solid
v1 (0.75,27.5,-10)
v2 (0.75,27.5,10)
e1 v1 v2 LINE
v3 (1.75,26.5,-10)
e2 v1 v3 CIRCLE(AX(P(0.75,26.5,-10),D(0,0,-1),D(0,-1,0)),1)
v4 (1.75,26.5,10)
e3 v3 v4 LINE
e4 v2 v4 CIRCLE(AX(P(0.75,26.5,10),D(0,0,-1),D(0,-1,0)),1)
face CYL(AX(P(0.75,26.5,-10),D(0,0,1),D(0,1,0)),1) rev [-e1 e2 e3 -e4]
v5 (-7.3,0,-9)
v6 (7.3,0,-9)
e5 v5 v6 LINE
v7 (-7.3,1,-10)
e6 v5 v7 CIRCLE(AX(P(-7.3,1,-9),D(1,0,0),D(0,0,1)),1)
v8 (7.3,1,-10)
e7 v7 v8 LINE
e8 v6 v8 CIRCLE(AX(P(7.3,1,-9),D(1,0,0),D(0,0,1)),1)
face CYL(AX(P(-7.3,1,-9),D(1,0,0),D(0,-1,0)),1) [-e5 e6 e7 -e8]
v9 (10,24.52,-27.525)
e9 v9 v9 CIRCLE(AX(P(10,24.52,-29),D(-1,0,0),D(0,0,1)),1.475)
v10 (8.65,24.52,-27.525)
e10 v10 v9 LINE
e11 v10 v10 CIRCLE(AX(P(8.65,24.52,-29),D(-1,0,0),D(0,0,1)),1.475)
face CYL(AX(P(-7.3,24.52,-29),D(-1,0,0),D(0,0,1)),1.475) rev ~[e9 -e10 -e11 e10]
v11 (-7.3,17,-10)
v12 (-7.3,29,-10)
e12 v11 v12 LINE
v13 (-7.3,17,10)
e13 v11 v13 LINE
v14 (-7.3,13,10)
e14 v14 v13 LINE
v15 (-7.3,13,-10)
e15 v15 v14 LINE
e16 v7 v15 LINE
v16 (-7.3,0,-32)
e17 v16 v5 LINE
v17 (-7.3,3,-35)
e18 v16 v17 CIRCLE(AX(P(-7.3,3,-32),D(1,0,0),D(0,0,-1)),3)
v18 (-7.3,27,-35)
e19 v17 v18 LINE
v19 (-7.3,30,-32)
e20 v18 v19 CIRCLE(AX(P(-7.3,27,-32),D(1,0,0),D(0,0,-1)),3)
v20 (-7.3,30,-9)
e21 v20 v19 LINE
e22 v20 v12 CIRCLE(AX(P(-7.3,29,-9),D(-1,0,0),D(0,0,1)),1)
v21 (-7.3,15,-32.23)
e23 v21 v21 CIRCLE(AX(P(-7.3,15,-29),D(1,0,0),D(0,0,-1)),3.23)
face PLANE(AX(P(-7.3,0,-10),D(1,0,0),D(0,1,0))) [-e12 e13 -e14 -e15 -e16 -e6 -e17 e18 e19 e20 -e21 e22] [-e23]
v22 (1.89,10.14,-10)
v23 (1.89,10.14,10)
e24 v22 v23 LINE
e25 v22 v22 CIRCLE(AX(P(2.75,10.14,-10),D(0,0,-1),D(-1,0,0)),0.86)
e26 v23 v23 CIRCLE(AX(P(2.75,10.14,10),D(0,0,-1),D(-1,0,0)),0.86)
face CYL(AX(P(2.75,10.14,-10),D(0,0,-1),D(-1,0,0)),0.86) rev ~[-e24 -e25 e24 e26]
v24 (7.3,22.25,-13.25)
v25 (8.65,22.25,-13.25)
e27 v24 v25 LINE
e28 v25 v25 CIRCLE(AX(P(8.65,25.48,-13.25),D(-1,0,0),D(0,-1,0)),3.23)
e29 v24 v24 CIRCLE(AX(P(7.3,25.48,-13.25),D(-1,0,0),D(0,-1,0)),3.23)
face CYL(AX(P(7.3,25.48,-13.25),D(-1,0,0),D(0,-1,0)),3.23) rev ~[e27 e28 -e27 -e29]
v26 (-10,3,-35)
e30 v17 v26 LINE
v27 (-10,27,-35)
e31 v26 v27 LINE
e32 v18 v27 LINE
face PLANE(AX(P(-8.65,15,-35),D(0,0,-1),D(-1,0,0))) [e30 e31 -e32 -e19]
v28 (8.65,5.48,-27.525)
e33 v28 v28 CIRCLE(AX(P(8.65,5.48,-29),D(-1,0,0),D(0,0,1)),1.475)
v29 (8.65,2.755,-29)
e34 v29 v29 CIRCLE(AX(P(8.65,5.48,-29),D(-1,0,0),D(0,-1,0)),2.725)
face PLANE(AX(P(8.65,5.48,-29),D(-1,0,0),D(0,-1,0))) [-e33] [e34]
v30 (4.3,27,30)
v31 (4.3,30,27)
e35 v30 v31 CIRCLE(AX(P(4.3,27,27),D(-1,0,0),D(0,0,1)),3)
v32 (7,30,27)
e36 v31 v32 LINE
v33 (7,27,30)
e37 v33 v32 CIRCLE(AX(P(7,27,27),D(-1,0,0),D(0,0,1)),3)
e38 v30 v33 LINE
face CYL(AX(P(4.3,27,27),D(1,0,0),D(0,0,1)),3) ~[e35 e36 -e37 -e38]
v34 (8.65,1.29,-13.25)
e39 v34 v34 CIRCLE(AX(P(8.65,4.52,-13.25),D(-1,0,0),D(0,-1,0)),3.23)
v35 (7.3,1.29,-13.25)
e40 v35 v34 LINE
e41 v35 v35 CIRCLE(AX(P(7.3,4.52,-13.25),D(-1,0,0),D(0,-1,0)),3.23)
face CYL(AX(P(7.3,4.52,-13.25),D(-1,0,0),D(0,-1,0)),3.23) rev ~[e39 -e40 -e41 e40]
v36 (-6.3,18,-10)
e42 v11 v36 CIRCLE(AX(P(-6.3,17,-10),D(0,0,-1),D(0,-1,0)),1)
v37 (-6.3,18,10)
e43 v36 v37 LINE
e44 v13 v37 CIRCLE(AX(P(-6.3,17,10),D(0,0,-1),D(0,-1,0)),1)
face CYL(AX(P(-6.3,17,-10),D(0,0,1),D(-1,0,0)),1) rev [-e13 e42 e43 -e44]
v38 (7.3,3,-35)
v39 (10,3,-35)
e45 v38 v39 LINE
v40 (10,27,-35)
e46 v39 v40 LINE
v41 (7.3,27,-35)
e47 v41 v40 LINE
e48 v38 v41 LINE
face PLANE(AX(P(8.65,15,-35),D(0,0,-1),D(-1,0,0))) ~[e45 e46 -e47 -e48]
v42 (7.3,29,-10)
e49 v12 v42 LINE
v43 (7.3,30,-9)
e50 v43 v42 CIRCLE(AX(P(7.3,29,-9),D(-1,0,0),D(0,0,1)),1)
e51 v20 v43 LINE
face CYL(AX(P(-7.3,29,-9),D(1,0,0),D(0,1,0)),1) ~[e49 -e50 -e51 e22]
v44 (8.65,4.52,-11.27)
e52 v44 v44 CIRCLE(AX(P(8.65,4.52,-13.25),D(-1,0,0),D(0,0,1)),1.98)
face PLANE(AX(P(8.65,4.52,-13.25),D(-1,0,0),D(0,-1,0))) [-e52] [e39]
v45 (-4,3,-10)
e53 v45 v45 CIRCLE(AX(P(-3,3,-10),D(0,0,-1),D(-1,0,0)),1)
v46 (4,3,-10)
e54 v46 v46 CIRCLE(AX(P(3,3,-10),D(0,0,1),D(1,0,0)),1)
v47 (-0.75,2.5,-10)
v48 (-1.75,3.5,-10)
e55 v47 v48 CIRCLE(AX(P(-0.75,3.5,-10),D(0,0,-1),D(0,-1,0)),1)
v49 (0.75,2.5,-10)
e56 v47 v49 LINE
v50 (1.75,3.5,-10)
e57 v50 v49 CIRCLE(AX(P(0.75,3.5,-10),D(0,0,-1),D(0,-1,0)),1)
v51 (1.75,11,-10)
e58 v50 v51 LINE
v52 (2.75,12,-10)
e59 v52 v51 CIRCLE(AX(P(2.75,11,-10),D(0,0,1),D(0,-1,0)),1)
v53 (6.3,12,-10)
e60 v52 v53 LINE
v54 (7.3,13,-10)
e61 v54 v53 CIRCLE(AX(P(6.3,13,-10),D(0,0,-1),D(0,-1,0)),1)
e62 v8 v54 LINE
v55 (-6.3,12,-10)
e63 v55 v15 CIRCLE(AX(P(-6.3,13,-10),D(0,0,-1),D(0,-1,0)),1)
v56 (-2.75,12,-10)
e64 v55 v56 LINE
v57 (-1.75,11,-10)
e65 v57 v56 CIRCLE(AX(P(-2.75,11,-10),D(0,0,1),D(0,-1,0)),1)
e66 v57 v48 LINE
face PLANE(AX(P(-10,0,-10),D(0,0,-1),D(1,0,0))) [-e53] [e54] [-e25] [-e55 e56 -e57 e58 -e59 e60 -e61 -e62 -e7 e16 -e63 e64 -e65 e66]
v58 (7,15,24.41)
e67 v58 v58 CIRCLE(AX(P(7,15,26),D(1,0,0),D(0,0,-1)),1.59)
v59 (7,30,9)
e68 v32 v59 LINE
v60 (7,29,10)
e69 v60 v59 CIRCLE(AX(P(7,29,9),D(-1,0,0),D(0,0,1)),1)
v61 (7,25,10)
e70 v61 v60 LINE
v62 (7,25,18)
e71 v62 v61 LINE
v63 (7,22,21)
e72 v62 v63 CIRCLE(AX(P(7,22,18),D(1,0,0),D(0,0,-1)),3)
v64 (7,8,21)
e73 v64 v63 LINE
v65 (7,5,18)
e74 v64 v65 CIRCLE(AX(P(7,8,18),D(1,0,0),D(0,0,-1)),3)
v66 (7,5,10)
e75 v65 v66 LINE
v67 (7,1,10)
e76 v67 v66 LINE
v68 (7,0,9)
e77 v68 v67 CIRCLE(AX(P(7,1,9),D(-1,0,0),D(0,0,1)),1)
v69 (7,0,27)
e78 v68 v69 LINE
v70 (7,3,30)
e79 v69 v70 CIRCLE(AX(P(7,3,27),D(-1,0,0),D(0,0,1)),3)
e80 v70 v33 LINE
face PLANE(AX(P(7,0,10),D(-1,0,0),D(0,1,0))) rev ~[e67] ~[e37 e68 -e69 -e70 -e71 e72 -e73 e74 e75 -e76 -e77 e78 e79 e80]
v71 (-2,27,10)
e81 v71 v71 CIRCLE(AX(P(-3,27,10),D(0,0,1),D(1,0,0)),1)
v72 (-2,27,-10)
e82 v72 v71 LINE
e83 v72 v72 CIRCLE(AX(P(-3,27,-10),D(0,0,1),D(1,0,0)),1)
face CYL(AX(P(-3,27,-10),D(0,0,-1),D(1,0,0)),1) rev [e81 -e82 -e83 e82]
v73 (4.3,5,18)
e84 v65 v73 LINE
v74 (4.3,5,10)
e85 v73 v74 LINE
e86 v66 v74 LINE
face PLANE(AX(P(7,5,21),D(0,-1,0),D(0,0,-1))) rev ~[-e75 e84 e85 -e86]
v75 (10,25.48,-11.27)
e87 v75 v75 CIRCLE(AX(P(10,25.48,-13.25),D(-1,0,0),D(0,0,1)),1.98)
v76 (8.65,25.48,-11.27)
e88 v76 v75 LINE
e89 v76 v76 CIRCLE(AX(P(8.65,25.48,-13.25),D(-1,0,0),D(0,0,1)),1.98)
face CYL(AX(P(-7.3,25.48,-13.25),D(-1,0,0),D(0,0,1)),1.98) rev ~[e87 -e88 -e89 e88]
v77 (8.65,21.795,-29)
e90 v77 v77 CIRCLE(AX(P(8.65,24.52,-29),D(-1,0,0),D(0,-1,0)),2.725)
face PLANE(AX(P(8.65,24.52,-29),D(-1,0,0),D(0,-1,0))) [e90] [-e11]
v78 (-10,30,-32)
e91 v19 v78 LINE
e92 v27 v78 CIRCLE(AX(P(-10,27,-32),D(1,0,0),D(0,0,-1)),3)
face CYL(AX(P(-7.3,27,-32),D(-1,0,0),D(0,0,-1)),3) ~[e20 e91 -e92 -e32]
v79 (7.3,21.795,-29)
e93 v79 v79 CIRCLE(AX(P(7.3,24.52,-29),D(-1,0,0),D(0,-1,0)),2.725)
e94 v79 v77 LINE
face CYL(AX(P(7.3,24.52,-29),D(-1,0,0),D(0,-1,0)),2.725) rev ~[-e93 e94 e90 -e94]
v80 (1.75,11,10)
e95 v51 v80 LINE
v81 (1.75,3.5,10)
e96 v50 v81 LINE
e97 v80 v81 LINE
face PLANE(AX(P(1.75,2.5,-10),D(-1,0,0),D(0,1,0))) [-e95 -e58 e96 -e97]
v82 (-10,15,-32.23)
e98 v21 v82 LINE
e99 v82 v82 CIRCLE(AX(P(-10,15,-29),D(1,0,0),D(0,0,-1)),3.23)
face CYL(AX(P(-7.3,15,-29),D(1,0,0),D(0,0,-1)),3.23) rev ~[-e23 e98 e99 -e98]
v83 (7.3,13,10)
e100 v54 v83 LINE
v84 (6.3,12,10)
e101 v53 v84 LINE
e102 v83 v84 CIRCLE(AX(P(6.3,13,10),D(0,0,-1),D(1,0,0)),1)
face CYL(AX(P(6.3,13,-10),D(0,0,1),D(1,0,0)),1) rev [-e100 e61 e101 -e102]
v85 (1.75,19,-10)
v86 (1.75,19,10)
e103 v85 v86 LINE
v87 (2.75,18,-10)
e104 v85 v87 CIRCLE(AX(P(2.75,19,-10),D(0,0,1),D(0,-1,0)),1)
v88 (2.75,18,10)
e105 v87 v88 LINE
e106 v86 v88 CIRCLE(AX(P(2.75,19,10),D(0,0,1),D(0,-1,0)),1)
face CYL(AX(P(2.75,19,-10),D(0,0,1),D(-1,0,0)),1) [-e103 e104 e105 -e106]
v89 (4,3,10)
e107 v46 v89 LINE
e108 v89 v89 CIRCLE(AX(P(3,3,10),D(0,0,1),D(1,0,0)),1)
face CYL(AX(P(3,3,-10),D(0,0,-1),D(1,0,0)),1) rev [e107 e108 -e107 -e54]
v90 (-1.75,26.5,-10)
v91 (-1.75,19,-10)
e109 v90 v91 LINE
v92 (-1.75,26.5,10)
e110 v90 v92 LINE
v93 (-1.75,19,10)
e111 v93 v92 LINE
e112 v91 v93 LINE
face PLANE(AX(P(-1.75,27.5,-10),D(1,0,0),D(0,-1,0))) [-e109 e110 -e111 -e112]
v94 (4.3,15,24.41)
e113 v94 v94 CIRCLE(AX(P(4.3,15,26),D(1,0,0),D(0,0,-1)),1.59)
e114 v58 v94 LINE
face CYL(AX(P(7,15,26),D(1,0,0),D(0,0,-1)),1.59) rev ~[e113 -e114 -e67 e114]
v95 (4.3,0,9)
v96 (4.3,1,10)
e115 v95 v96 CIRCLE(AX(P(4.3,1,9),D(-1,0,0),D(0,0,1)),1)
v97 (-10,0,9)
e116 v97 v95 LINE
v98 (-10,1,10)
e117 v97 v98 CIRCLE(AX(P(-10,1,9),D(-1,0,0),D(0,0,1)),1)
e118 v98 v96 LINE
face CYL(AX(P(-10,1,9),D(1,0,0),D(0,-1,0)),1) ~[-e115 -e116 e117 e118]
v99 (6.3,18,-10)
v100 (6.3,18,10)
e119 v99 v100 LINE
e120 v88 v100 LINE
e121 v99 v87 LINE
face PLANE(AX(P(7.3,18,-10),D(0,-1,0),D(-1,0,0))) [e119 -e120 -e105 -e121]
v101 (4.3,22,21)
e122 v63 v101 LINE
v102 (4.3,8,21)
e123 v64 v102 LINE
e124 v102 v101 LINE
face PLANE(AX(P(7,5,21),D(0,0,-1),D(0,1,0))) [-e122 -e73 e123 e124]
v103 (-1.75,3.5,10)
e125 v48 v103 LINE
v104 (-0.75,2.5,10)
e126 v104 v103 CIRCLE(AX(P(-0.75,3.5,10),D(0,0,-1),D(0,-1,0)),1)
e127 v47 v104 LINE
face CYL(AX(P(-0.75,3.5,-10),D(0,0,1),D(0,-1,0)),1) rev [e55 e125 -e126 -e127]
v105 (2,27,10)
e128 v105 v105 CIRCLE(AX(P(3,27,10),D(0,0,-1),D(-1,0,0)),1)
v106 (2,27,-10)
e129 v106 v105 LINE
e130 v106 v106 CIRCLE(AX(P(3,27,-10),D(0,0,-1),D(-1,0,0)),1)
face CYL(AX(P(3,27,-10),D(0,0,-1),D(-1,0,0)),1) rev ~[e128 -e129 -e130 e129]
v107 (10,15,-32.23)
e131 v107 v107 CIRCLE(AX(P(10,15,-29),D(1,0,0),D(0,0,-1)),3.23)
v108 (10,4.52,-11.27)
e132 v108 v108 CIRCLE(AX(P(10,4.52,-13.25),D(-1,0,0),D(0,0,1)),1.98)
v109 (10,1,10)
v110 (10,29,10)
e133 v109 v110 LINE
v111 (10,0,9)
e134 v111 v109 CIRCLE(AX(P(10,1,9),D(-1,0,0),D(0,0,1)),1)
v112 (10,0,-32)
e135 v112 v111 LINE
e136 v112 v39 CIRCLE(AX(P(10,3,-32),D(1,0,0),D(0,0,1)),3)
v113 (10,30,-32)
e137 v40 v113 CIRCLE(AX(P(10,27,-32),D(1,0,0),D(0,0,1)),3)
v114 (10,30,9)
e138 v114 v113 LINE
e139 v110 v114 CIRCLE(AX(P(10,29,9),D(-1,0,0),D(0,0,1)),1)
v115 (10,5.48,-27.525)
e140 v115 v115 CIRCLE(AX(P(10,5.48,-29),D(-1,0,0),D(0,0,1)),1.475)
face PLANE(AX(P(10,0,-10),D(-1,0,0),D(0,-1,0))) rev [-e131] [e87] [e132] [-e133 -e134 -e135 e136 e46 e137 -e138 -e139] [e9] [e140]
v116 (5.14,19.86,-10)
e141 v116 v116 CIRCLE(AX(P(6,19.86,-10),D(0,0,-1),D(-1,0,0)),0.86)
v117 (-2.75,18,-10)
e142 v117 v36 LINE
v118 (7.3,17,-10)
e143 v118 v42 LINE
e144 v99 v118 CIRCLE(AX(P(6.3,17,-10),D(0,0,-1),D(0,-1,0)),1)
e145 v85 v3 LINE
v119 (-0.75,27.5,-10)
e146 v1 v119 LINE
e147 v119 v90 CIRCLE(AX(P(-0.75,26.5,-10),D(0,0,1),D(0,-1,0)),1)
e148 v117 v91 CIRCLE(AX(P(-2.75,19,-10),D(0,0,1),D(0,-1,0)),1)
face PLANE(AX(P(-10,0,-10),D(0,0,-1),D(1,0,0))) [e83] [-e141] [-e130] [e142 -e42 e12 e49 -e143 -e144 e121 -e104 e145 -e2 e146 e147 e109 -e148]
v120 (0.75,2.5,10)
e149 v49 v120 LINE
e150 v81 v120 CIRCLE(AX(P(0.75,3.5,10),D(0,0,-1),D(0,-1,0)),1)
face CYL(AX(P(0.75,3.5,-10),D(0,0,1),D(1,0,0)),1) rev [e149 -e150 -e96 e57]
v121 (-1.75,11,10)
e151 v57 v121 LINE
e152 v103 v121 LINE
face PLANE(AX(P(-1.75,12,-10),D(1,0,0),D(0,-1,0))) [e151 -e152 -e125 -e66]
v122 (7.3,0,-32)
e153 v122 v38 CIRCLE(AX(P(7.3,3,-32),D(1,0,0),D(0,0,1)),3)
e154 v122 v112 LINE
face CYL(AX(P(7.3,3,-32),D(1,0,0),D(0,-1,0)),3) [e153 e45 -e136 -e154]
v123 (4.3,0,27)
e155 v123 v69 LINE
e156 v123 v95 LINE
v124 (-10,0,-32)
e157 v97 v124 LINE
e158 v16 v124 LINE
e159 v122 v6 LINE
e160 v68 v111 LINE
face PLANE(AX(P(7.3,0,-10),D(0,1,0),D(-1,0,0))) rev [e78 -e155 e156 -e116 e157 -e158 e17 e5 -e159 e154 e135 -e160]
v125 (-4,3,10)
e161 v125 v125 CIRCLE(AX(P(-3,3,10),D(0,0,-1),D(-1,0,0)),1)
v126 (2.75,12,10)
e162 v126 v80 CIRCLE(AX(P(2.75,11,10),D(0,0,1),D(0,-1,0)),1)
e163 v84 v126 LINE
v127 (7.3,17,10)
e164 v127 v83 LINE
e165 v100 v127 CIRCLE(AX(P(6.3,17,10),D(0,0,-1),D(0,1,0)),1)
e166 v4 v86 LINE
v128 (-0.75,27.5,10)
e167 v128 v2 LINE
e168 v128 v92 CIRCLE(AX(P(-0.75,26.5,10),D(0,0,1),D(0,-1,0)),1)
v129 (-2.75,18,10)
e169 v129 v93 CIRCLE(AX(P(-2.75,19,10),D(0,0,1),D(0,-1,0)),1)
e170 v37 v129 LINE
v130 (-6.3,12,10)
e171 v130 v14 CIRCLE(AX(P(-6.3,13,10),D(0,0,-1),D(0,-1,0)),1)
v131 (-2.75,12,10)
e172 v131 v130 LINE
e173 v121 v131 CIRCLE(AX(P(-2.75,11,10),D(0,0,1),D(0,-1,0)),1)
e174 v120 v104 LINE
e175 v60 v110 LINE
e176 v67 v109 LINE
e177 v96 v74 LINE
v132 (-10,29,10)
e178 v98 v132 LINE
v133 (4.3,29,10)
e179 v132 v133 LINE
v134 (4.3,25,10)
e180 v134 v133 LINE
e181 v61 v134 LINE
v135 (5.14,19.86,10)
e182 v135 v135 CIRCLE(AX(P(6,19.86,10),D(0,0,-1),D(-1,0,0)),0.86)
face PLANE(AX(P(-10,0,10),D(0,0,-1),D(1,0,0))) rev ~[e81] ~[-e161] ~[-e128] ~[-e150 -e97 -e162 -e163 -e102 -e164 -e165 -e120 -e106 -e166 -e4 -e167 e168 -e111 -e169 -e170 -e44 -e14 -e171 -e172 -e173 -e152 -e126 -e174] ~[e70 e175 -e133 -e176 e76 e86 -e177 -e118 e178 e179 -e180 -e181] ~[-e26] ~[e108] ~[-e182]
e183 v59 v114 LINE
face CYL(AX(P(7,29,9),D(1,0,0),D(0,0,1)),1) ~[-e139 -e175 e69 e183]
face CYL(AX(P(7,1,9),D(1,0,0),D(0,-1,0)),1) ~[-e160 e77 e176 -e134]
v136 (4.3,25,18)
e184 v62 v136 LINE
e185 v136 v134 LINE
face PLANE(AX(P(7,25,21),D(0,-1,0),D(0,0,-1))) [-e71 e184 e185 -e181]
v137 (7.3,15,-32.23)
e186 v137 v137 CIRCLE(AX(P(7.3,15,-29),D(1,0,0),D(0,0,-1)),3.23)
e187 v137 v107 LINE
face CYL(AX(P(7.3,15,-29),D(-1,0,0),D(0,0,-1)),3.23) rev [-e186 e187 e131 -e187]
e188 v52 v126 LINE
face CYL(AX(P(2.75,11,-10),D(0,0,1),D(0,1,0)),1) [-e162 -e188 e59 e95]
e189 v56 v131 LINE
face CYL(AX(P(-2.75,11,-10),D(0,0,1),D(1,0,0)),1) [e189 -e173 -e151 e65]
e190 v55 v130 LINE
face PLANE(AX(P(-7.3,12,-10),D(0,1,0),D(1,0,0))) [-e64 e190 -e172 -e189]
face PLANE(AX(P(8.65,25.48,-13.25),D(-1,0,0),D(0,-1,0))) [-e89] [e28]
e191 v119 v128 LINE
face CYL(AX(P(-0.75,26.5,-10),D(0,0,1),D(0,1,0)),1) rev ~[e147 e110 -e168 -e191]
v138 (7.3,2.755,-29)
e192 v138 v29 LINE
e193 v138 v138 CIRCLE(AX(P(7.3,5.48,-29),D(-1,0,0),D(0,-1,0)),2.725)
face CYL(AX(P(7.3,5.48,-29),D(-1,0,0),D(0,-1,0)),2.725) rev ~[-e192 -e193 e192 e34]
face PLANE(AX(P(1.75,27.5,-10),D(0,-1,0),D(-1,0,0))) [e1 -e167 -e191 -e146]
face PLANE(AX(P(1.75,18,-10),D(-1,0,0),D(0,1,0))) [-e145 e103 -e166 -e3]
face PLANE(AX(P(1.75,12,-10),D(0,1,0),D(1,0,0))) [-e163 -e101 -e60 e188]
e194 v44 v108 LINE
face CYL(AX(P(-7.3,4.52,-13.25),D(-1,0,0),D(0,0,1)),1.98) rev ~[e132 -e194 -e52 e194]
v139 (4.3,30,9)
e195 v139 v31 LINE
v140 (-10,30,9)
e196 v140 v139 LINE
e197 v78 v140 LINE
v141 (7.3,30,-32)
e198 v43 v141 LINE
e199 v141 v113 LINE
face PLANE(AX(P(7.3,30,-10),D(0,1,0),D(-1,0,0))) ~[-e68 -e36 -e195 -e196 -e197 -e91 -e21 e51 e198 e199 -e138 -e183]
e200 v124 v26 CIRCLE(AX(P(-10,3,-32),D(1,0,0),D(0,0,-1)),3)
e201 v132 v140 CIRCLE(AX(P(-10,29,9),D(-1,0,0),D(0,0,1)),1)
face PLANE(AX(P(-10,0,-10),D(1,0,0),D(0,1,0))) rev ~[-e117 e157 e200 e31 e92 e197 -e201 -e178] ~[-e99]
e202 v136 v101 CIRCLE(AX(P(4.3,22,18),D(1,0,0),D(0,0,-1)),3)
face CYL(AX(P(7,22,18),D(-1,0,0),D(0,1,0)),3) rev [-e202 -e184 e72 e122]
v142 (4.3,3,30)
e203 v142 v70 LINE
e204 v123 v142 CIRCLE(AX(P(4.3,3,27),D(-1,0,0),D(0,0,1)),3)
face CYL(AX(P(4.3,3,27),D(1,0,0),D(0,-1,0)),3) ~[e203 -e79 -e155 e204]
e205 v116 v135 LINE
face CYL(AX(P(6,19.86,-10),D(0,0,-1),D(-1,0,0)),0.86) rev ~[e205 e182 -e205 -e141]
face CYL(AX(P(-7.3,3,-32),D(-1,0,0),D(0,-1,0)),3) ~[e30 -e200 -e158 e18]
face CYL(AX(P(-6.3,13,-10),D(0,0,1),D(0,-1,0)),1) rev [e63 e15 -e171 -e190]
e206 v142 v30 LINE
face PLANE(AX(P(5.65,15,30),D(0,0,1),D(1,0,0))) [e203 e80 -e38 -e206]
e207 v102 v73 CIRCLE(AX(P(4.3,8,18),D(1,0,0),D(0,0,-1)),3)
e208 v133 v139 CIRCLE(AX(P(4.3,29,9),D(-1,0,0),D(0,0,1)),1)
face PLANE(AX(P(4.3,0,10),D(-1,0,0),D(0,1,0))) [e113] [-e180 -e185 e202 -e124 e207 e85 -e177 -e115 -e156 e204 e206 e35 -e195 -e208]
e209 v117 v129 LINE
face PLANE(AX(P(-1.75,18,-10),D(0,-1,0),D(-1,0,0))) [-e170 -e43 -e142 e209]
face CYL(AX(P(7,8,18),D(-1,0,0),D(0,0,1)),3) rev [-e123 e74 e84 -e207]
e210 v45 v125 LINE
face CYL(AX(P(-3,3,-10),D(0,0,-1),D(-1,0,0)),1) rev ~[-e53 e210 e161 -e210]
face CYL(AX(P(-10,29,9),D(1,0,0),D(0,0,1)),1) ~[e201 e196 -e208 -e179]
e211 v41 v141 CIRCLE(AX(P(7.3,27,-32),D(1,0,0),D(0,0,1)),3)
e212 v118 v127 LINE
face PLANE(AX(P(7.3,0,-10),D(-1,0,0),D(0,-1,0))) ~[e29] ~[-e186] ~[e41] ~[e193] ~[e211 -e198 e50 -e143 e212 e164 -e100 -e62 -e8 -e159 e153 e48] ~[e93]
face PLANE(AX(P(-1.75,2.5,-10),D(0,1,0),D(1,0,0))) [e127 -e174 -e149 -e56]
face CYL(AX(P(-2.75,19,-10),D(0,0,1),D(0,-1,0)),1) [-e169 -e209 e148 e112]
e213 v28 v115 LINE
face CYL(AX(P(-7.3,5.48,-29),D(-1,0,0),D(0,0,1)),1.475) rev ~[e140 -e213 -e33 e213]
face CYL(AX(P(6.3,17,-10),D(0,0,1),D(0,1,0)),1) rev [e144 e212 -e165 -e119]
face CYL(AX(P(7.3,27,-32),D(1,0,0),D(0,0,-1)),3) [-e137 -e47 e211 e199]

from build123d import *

# Parameters (mm, degrees)
SKETCH1_W             = 20
SKETCH1_H             = 20
BOSS_EXTRUDE3_DEPTH   = 30
CUT_EXTRUDE11_REACH   = 39.417
SKETCH10_R            = 0.86
FILLET4_R             = 1
SKETCH12_W            = 2.7
SKETCH12_H            = 30
BOSS_EXTRUDE13_DEPTH  = 20
CUT_EXTRUDE13_REACH   = 47.706
SKETCH14_R            = 1.59
SKETCH14_W            = 11
SKETCH14_H            = 20
FILLET6_R             = 3
SKETCH16_W            = 2.7
SKETCH16_H            = 30
BOSS_EXTRUDE14_DEPTH  = 25
CUT_EXTRUDE14_REACH   = 51.237
SKETCH17_R            = 3.23
FILLET11_R            = 3
FILLET11_OF_MIRROR1_R = 3
FILLET12_R            = 1
CUT_EXTRUDE15_REACH   = 52.99
SKETCH18_R            = 1
CUT_EXTRUDE16_REACH   = 51.237
SKETCH20_R            = 1.98
SKETCH20_R_2          = 1.475
SKETCH22_R            = 2.725
SKETCH22_R_2          = 3.23
CUT_EXTRUDE17_DEPTH   = 1.35


with BuildPart() as part:
    # Sketch1 → Boss-Extrude3 (new body)
    with BuildSketch(Plane(origin=(0, 0, 0), x_dir=(1, 0, 0), z_dir=(0, 1, 0))):
        Rectangle(SKETCH1_W, SKETCH1_H)
    extrude(amount=BOSS_EXTRUDE3_DEPTH)

    # Sketch10 → Cut-Extrude11 (cut, up to next)
    with BuildSketch(Plane(origin=(0, 0, -10), x_dir=(-1, 0, 0), z_dir=(0, 0, -1)), mode=Mode.PRIVATE) as cut_extrude11_sk1:
        with Locations((-6, 19.86)):
            Circle(SKETCH10_R)
    cut_extrude11_tool1 = extrude(cut_extrude11_sk1.sketch, amount=-CUT_EXTRUDE11_REACH, mode=Mode.PRIVATE) & part.part
    # Sketch10 → Cut-Extrude11 (cut, up to next)
    with BuildSketch(Plane(origin=(0, 0, -10), x_dir=(-1, 0, 0), z_dir=(0, 0, -1)), mode=Mode.PRIVATE) as cut_extrude11_sk2:
        with Locations((-2.75, 10.14)):
            Circle(SKETCH10_R)
    cut_extrude11_tool2 = extrude(cut_extrude11_sk2.sketch, amount=-CUT_EXTRUDE11_REACH, mode=Mode.PRIVATE) & part.part
    # Sketch10 → Cut-Extrude11 (cut, up to next)
    with BuildSketch(Plane(origin=(0, 0, -10), x_dir=(-1, 0, 0), z_dir=(0, 0, -1)), mode=Mode.PRIVATE) as cut_extrude11_sk3:
        Polygon((-1.75, 27.5), (1.75, 27.5), (1.75, 18), (7.3, 18), (7.3, 12), (1.75, 12), (1.75, 2.5), (-1.75, 2.5), (-1.75, 12), (-7.3, 12), (-7.3, 18), (-1.75, 18), align=None)
    cut_extrude11_tool3 = extrude(cut_extrude11_sk3.sketch, amount=-CUT_EXTRUDE11_REACH, mode=Mode.PRIVATE) & part.part
    add(cut_extrude11_tool1.solids().sort_by_distance((6, 19.86, -10))[0], mode=Mode.SUBTRACT)
    add(cut_extrude11_tool2.solids().sort_by_distance((2.75, 10.14, -10))[0], mode=Mode.SUBTRACT)
    add(cut_extrude11_tool3.solids().sort_by_distance((0, 15, -10))[0], mode=Mode.SUBTRACT)

    # Fillet4
    fillet4_edges = [part.edges().sort_by_distance(p)[0] for p in [
        (-1.75, 2.5, 0),
        (1.75, 2.5, 0),
        (1.75, 12, 0),
        (7.3, 12, 0),
        (7.3, 18, 0),
        (1.75, 18, 0),
        (1.75, 27.5, 0),
        (-1.75, 27.5, 0),
        (-1.75, 18, 0),
        (-7.3, 18, 0),
        (-7.3, 12, 0),
        (-1.75, 12, 0),
    ]]
    fillet(fillet4_edges, radius=FILLET4_R)

    # Sketch12 → Boss-Extrude13 (add)
    with BuildSketch(Plane.XY.offset(10)):
        with Locations((5.65, 15)):
            Rectangle(SKETCH12_W, SKETCH12_H)
    extrude(amount=BOSS_EXTRUDE13_DEPTH)

    # Sketch14 → Cut-Extrude13 (cut, up to next)
    with BuildSketch(Plane(origin=(7, 0, 0), x_dir=(0, 0, -1), z_dir=(1, 0, 0)), mode=Mode.PRIVATE) as cut_extrude13_sk1:
        with Locations((-26, 15)):
            Circle(SKETCH14_R)
    cut_extrude13_tool1 = extrude(cut_extrude13_sk1.sketch, amount=-CUT_EXTRUDE13_REACH, mode=Mode.PRIVATE) & part.part
    # Sketch14 → Cut-Extrude13 (cut, up to next)
    with BuildSketch(Plane(origin=(7, 0, 0), x_dir=(0, 0, -1), z_dir=(1, 0, 0)), mode=Mode.PRIVATE) as cut_extrude13_sk2:
        with Locations((-15.5, 15)):
            Rectangle(SKETCH14_W, SKETCH14_H)
    cut_extrude13_tool2 = extrude(cut_extrude13_sk2.sketch, amount=-CUT_EXTRUDE13_REACH, mode=Mode.PRIVATE) & part.part
    add(cut_extrude13_tool1.solids().sort_by_distance((7, 15, 26))[0], mode=Mode.SUBTRACT)
    add(cut_extrude13_tool2.solids().sort_by_distance((7, 15, 15.5))[0], mode=Mode.SUBTRACT)

    # Fillet6
    fillet6_edges = [part.edges().sort_by_distance(p)[0] for p in [
        (5.65, 0, 30),
        (5.65, 30, 30),
        (5.65, 5, 21),
        (5.65, 25, 21),
    ]]
    fillet(fillet6_edges, radius=FILLET6_R)

    # Sketch16 → Boss-Extrude14 (add)
    with BuildSketch(Plane(origin=(0, 0, -10), x_dir=(-1, 0, 0), z_dir=(0, 0, -1))):
        with Locations((8.65, 15)):
            Rectangle(SKETCH16_W, SKETCH16_H)
    boss_extrude14 = extrude(amount=BOSS_EXTRUDE14_DEPTH)

    # Sketch17 → Cut-Extrude14 (cut, up to next)
    with BuildSketch(Plane(origin=(-7.3, 0, 0), x_dir=(0, 0, -1), z_dir=(1, 0, 0)), mode=Mode.PRIVATE) as cut_extrude14_sk1:
        with Locations((29, 15)):
            Circle(SKETCH17_R)
    cut_extrude14_tool1 = extrude(cut_extrude14_sk1.sketch, amount=-CUT_EXTRUDE14_REACH, mode=Mode.PRIVATE) & part.part
    cut_extrude14 = cut_extrude14_tool1.solids().sort_by_distance((-7.3, 15, -29))[0]
    add(cut_extrude14, mode=Mode.SUBTRACT)

    # Fillet11
    fillet11_edges = [part.edges().sort_by_distance(p)[0] for p in [
        (-8.65, 30, -35),
        (-8.65, 0, -35),
    ]]
    fillet(fillet11_edges, radius=FILLET11_R)

    # Mirror1: Boss-Extrude14, Cut-Extrude14 across plane
    add(boss_extrude14.mirror(Plane(origin=(0, 0, 0), x_dir=(0, 0, 1), z_dir=(1, 0, 0))))
    add(cut_extrude14.mirror(Plane(origin=(0, 0, 0), x_dir=(0, 0, 1), z_dir=(1, 0, 0))), mode=Mode.SUBTRACT)

    # Fillet11 of Mirror1
    fillet11_of_mirror1_edges = [part.edges().sort_by_distance(p)[0] for p in [
        (8.65, 30, -35),
        (8.65, 0, -35),
    ]]
    fillet(fillet11_of_mirror1_edges, radius=FILLET11_OF_MIRROR1_R)

    # Fillet12
    fillet12_edges = [part.edges().sort_by_distance(p)[0] for p in [
        (8.5, 0, 10),
        (8.5, 30, 10),
        (0, 0, -10),
        (0, 30, -10),
        (-2.85, 30, 10),
        (-2.85, 0, 10),
    ]]
    fillet(fillet12_edges, radius=FILLET12_R)

    # Sketch18 → Cut-Extrude15 (cut, up to next)
    with BuildSketch(Plane(origin=(0, 0, -10), x_dir=(-1, 0, 0), z_dir=(0, 0, -1)), mode=Mode.PRIVATE) as cut_extrude15_sk1:
        with Locations((-3, 27)):
            Circle(SKETCH18_R)
    cut_extrude15_tool1 = extrude(cut_extrude15_sk1.sketch, amount=-CUT_EXTRUDE15_REACH, mode=Mode.PRIVATE) & part.part
    # Sketch18 → Cut-Extrude15 (cut, up to next)
    with BuildSketch(Plane(origin=(0, 0, -10), x_dir=(-1, 0, 0), z_dir=(0, 0, -1)), mode=Mode.PRIVATE) as cut_extrude15_sk2:
        with Locations((3, 3)):
            Circle(SKETCH18_R)
    cut_extrude15_tool2 = extrude(cut_extrude15_sk2.sketch, amount=-CUT_EXTRUDE15_REACH, mode=Mode.PRIVATE) & part.part
    cut_extrude15_1 = cut_extrude15_tool1.solids().sort_by_distance((3, 27, -10))[0]
    add(cut_extrude15_1, mode=Mode.SUBTRACT)
    cut_extrude15_2 = cut_extrude15_tool2.solids().sort_by_distance((-3, 3, -10))[0]
    add(cut_extrude15_2, mode=Mode.SUBTRACT)
    cut_extrude15 = cut_extrude15_1 + cut_extrude15_2  # Cut-Extrude15 as one shape, for the pattern or mirror that repeats it

    # Mirror2: Cut-Extrude15 across plane
    add(cut_extrude15.mirror(Plane(origin=(0, 0, 0), x_dir=(0, 0, 1), z_dir=(1, 0, 0))), mode=Mode.SUBTRACT)

    # Sketch20 → Cut-Extrude16 (cut, up to next)
    with BuildSketch(Plane.ZY.offset(7.3), mode=Mode.PRIVATE) as cut_extrude16_sk1:
        with Locations((-13.25, 25.48)):
            Circle(SKETCH20_R)
    cut_extrude16_tool1 = extrude(cut_extrude16_sk1.sketch, amount=-CUT_EXTRUDE16_REACH, mode=Mode.PRIVATE) & part.part
    # Sketch20 → Cut-Extrude16 (cut, up to next)
    with BuildSketch(Plane.ZY.offset(7.3), mode=Mode.PRIVATE) as cut_extrude16_sk2:
        with Locations((-13.25, 4.52)):
            Circle(SKETCH20_R)
    cut_extrude16_tool2 = extrude(cut_extrude16_sk2.sketch, amount=-CUT_EXTRUDE16_REACH, mode=Mode.PRIVATE) & part.part
    # Sketch20 → Cut-Extrude16 (cut, up to next)
    with BuildSketch(Plane.ZY.offset(7.3), mode=Mode.PRIVATE) as cut_extrude16_sk3:
        with Locations((-29, 5.48)):
            Circle(SKETCH20_R_2)
    cut_extrude16_tool3 = extrude(cut_extrude16_sk3.sketch, amount=-CUT_EXTRUDE16_REACH, mode=Mode.PRIVATE) & part.part
    # Sketch20 → Cut-Extrude16 (cut, up to next)
    with BuildSketch(Plane.ZY.offset(7.3), mode=Mode.PRIVATE) as cut_extrude16_sk4:
        with Locations((-29, 24.52)):
            Circle(SKETCH20_R_2)
    cut_extrude16_tool4 = extrude(cut_extrude16_sk4.sketch, amount=-CUT_EXTRUDE16_REACH, mode=Mode.PRIVATE) & part.part
    add(cut_extrude16_tool1.solids().sort_by_distance((-7.3, 25.48, -13.25))[0], mode=Mode.SUBTRACT)
    add(cut_extrude16_tool2.solids().sort_by_distance((-7.3, 4.52, -13.25))[0], mode=Mode.SUBTRACT)
    add(cut_extrude16_tool3.solids().sort_by_distance((-7.3, 5.48, -29))[0], mode=Mode.SUBTRACT)
    add(cut_extrude16_tool4.solids().sort_by_distance((-7.3, 24.52, -29))[0], mode=Mode.SUBTRACT)

    # Sketch22 → Cut-Extrude17 (cut)
    with BuildSketch(Plane.ZY.offset(-7.3)):
        with Locations(Location((-29, 24.52, 0), (0, 0, 270))):
            Circle(SKETCH22_R)
        with Locations(Location((-13.25, 25.48, 0), (0, 0, 270))):
            Circle(SKETCH22_R_2)
        with Locations(Location((-13.25, 4.52, 0), (0, 0, 270))):
            Circle(SKETCH22_R_2)
        with Locations(Location((-29, 5.48, 0), (0, 0, 270))):
            Circle(SKETCH22_R)
    extrude(amount=-CUT_EXTRUDE17_DEPTH, mode=Mode.SUBTRACT)


solid = part.part
